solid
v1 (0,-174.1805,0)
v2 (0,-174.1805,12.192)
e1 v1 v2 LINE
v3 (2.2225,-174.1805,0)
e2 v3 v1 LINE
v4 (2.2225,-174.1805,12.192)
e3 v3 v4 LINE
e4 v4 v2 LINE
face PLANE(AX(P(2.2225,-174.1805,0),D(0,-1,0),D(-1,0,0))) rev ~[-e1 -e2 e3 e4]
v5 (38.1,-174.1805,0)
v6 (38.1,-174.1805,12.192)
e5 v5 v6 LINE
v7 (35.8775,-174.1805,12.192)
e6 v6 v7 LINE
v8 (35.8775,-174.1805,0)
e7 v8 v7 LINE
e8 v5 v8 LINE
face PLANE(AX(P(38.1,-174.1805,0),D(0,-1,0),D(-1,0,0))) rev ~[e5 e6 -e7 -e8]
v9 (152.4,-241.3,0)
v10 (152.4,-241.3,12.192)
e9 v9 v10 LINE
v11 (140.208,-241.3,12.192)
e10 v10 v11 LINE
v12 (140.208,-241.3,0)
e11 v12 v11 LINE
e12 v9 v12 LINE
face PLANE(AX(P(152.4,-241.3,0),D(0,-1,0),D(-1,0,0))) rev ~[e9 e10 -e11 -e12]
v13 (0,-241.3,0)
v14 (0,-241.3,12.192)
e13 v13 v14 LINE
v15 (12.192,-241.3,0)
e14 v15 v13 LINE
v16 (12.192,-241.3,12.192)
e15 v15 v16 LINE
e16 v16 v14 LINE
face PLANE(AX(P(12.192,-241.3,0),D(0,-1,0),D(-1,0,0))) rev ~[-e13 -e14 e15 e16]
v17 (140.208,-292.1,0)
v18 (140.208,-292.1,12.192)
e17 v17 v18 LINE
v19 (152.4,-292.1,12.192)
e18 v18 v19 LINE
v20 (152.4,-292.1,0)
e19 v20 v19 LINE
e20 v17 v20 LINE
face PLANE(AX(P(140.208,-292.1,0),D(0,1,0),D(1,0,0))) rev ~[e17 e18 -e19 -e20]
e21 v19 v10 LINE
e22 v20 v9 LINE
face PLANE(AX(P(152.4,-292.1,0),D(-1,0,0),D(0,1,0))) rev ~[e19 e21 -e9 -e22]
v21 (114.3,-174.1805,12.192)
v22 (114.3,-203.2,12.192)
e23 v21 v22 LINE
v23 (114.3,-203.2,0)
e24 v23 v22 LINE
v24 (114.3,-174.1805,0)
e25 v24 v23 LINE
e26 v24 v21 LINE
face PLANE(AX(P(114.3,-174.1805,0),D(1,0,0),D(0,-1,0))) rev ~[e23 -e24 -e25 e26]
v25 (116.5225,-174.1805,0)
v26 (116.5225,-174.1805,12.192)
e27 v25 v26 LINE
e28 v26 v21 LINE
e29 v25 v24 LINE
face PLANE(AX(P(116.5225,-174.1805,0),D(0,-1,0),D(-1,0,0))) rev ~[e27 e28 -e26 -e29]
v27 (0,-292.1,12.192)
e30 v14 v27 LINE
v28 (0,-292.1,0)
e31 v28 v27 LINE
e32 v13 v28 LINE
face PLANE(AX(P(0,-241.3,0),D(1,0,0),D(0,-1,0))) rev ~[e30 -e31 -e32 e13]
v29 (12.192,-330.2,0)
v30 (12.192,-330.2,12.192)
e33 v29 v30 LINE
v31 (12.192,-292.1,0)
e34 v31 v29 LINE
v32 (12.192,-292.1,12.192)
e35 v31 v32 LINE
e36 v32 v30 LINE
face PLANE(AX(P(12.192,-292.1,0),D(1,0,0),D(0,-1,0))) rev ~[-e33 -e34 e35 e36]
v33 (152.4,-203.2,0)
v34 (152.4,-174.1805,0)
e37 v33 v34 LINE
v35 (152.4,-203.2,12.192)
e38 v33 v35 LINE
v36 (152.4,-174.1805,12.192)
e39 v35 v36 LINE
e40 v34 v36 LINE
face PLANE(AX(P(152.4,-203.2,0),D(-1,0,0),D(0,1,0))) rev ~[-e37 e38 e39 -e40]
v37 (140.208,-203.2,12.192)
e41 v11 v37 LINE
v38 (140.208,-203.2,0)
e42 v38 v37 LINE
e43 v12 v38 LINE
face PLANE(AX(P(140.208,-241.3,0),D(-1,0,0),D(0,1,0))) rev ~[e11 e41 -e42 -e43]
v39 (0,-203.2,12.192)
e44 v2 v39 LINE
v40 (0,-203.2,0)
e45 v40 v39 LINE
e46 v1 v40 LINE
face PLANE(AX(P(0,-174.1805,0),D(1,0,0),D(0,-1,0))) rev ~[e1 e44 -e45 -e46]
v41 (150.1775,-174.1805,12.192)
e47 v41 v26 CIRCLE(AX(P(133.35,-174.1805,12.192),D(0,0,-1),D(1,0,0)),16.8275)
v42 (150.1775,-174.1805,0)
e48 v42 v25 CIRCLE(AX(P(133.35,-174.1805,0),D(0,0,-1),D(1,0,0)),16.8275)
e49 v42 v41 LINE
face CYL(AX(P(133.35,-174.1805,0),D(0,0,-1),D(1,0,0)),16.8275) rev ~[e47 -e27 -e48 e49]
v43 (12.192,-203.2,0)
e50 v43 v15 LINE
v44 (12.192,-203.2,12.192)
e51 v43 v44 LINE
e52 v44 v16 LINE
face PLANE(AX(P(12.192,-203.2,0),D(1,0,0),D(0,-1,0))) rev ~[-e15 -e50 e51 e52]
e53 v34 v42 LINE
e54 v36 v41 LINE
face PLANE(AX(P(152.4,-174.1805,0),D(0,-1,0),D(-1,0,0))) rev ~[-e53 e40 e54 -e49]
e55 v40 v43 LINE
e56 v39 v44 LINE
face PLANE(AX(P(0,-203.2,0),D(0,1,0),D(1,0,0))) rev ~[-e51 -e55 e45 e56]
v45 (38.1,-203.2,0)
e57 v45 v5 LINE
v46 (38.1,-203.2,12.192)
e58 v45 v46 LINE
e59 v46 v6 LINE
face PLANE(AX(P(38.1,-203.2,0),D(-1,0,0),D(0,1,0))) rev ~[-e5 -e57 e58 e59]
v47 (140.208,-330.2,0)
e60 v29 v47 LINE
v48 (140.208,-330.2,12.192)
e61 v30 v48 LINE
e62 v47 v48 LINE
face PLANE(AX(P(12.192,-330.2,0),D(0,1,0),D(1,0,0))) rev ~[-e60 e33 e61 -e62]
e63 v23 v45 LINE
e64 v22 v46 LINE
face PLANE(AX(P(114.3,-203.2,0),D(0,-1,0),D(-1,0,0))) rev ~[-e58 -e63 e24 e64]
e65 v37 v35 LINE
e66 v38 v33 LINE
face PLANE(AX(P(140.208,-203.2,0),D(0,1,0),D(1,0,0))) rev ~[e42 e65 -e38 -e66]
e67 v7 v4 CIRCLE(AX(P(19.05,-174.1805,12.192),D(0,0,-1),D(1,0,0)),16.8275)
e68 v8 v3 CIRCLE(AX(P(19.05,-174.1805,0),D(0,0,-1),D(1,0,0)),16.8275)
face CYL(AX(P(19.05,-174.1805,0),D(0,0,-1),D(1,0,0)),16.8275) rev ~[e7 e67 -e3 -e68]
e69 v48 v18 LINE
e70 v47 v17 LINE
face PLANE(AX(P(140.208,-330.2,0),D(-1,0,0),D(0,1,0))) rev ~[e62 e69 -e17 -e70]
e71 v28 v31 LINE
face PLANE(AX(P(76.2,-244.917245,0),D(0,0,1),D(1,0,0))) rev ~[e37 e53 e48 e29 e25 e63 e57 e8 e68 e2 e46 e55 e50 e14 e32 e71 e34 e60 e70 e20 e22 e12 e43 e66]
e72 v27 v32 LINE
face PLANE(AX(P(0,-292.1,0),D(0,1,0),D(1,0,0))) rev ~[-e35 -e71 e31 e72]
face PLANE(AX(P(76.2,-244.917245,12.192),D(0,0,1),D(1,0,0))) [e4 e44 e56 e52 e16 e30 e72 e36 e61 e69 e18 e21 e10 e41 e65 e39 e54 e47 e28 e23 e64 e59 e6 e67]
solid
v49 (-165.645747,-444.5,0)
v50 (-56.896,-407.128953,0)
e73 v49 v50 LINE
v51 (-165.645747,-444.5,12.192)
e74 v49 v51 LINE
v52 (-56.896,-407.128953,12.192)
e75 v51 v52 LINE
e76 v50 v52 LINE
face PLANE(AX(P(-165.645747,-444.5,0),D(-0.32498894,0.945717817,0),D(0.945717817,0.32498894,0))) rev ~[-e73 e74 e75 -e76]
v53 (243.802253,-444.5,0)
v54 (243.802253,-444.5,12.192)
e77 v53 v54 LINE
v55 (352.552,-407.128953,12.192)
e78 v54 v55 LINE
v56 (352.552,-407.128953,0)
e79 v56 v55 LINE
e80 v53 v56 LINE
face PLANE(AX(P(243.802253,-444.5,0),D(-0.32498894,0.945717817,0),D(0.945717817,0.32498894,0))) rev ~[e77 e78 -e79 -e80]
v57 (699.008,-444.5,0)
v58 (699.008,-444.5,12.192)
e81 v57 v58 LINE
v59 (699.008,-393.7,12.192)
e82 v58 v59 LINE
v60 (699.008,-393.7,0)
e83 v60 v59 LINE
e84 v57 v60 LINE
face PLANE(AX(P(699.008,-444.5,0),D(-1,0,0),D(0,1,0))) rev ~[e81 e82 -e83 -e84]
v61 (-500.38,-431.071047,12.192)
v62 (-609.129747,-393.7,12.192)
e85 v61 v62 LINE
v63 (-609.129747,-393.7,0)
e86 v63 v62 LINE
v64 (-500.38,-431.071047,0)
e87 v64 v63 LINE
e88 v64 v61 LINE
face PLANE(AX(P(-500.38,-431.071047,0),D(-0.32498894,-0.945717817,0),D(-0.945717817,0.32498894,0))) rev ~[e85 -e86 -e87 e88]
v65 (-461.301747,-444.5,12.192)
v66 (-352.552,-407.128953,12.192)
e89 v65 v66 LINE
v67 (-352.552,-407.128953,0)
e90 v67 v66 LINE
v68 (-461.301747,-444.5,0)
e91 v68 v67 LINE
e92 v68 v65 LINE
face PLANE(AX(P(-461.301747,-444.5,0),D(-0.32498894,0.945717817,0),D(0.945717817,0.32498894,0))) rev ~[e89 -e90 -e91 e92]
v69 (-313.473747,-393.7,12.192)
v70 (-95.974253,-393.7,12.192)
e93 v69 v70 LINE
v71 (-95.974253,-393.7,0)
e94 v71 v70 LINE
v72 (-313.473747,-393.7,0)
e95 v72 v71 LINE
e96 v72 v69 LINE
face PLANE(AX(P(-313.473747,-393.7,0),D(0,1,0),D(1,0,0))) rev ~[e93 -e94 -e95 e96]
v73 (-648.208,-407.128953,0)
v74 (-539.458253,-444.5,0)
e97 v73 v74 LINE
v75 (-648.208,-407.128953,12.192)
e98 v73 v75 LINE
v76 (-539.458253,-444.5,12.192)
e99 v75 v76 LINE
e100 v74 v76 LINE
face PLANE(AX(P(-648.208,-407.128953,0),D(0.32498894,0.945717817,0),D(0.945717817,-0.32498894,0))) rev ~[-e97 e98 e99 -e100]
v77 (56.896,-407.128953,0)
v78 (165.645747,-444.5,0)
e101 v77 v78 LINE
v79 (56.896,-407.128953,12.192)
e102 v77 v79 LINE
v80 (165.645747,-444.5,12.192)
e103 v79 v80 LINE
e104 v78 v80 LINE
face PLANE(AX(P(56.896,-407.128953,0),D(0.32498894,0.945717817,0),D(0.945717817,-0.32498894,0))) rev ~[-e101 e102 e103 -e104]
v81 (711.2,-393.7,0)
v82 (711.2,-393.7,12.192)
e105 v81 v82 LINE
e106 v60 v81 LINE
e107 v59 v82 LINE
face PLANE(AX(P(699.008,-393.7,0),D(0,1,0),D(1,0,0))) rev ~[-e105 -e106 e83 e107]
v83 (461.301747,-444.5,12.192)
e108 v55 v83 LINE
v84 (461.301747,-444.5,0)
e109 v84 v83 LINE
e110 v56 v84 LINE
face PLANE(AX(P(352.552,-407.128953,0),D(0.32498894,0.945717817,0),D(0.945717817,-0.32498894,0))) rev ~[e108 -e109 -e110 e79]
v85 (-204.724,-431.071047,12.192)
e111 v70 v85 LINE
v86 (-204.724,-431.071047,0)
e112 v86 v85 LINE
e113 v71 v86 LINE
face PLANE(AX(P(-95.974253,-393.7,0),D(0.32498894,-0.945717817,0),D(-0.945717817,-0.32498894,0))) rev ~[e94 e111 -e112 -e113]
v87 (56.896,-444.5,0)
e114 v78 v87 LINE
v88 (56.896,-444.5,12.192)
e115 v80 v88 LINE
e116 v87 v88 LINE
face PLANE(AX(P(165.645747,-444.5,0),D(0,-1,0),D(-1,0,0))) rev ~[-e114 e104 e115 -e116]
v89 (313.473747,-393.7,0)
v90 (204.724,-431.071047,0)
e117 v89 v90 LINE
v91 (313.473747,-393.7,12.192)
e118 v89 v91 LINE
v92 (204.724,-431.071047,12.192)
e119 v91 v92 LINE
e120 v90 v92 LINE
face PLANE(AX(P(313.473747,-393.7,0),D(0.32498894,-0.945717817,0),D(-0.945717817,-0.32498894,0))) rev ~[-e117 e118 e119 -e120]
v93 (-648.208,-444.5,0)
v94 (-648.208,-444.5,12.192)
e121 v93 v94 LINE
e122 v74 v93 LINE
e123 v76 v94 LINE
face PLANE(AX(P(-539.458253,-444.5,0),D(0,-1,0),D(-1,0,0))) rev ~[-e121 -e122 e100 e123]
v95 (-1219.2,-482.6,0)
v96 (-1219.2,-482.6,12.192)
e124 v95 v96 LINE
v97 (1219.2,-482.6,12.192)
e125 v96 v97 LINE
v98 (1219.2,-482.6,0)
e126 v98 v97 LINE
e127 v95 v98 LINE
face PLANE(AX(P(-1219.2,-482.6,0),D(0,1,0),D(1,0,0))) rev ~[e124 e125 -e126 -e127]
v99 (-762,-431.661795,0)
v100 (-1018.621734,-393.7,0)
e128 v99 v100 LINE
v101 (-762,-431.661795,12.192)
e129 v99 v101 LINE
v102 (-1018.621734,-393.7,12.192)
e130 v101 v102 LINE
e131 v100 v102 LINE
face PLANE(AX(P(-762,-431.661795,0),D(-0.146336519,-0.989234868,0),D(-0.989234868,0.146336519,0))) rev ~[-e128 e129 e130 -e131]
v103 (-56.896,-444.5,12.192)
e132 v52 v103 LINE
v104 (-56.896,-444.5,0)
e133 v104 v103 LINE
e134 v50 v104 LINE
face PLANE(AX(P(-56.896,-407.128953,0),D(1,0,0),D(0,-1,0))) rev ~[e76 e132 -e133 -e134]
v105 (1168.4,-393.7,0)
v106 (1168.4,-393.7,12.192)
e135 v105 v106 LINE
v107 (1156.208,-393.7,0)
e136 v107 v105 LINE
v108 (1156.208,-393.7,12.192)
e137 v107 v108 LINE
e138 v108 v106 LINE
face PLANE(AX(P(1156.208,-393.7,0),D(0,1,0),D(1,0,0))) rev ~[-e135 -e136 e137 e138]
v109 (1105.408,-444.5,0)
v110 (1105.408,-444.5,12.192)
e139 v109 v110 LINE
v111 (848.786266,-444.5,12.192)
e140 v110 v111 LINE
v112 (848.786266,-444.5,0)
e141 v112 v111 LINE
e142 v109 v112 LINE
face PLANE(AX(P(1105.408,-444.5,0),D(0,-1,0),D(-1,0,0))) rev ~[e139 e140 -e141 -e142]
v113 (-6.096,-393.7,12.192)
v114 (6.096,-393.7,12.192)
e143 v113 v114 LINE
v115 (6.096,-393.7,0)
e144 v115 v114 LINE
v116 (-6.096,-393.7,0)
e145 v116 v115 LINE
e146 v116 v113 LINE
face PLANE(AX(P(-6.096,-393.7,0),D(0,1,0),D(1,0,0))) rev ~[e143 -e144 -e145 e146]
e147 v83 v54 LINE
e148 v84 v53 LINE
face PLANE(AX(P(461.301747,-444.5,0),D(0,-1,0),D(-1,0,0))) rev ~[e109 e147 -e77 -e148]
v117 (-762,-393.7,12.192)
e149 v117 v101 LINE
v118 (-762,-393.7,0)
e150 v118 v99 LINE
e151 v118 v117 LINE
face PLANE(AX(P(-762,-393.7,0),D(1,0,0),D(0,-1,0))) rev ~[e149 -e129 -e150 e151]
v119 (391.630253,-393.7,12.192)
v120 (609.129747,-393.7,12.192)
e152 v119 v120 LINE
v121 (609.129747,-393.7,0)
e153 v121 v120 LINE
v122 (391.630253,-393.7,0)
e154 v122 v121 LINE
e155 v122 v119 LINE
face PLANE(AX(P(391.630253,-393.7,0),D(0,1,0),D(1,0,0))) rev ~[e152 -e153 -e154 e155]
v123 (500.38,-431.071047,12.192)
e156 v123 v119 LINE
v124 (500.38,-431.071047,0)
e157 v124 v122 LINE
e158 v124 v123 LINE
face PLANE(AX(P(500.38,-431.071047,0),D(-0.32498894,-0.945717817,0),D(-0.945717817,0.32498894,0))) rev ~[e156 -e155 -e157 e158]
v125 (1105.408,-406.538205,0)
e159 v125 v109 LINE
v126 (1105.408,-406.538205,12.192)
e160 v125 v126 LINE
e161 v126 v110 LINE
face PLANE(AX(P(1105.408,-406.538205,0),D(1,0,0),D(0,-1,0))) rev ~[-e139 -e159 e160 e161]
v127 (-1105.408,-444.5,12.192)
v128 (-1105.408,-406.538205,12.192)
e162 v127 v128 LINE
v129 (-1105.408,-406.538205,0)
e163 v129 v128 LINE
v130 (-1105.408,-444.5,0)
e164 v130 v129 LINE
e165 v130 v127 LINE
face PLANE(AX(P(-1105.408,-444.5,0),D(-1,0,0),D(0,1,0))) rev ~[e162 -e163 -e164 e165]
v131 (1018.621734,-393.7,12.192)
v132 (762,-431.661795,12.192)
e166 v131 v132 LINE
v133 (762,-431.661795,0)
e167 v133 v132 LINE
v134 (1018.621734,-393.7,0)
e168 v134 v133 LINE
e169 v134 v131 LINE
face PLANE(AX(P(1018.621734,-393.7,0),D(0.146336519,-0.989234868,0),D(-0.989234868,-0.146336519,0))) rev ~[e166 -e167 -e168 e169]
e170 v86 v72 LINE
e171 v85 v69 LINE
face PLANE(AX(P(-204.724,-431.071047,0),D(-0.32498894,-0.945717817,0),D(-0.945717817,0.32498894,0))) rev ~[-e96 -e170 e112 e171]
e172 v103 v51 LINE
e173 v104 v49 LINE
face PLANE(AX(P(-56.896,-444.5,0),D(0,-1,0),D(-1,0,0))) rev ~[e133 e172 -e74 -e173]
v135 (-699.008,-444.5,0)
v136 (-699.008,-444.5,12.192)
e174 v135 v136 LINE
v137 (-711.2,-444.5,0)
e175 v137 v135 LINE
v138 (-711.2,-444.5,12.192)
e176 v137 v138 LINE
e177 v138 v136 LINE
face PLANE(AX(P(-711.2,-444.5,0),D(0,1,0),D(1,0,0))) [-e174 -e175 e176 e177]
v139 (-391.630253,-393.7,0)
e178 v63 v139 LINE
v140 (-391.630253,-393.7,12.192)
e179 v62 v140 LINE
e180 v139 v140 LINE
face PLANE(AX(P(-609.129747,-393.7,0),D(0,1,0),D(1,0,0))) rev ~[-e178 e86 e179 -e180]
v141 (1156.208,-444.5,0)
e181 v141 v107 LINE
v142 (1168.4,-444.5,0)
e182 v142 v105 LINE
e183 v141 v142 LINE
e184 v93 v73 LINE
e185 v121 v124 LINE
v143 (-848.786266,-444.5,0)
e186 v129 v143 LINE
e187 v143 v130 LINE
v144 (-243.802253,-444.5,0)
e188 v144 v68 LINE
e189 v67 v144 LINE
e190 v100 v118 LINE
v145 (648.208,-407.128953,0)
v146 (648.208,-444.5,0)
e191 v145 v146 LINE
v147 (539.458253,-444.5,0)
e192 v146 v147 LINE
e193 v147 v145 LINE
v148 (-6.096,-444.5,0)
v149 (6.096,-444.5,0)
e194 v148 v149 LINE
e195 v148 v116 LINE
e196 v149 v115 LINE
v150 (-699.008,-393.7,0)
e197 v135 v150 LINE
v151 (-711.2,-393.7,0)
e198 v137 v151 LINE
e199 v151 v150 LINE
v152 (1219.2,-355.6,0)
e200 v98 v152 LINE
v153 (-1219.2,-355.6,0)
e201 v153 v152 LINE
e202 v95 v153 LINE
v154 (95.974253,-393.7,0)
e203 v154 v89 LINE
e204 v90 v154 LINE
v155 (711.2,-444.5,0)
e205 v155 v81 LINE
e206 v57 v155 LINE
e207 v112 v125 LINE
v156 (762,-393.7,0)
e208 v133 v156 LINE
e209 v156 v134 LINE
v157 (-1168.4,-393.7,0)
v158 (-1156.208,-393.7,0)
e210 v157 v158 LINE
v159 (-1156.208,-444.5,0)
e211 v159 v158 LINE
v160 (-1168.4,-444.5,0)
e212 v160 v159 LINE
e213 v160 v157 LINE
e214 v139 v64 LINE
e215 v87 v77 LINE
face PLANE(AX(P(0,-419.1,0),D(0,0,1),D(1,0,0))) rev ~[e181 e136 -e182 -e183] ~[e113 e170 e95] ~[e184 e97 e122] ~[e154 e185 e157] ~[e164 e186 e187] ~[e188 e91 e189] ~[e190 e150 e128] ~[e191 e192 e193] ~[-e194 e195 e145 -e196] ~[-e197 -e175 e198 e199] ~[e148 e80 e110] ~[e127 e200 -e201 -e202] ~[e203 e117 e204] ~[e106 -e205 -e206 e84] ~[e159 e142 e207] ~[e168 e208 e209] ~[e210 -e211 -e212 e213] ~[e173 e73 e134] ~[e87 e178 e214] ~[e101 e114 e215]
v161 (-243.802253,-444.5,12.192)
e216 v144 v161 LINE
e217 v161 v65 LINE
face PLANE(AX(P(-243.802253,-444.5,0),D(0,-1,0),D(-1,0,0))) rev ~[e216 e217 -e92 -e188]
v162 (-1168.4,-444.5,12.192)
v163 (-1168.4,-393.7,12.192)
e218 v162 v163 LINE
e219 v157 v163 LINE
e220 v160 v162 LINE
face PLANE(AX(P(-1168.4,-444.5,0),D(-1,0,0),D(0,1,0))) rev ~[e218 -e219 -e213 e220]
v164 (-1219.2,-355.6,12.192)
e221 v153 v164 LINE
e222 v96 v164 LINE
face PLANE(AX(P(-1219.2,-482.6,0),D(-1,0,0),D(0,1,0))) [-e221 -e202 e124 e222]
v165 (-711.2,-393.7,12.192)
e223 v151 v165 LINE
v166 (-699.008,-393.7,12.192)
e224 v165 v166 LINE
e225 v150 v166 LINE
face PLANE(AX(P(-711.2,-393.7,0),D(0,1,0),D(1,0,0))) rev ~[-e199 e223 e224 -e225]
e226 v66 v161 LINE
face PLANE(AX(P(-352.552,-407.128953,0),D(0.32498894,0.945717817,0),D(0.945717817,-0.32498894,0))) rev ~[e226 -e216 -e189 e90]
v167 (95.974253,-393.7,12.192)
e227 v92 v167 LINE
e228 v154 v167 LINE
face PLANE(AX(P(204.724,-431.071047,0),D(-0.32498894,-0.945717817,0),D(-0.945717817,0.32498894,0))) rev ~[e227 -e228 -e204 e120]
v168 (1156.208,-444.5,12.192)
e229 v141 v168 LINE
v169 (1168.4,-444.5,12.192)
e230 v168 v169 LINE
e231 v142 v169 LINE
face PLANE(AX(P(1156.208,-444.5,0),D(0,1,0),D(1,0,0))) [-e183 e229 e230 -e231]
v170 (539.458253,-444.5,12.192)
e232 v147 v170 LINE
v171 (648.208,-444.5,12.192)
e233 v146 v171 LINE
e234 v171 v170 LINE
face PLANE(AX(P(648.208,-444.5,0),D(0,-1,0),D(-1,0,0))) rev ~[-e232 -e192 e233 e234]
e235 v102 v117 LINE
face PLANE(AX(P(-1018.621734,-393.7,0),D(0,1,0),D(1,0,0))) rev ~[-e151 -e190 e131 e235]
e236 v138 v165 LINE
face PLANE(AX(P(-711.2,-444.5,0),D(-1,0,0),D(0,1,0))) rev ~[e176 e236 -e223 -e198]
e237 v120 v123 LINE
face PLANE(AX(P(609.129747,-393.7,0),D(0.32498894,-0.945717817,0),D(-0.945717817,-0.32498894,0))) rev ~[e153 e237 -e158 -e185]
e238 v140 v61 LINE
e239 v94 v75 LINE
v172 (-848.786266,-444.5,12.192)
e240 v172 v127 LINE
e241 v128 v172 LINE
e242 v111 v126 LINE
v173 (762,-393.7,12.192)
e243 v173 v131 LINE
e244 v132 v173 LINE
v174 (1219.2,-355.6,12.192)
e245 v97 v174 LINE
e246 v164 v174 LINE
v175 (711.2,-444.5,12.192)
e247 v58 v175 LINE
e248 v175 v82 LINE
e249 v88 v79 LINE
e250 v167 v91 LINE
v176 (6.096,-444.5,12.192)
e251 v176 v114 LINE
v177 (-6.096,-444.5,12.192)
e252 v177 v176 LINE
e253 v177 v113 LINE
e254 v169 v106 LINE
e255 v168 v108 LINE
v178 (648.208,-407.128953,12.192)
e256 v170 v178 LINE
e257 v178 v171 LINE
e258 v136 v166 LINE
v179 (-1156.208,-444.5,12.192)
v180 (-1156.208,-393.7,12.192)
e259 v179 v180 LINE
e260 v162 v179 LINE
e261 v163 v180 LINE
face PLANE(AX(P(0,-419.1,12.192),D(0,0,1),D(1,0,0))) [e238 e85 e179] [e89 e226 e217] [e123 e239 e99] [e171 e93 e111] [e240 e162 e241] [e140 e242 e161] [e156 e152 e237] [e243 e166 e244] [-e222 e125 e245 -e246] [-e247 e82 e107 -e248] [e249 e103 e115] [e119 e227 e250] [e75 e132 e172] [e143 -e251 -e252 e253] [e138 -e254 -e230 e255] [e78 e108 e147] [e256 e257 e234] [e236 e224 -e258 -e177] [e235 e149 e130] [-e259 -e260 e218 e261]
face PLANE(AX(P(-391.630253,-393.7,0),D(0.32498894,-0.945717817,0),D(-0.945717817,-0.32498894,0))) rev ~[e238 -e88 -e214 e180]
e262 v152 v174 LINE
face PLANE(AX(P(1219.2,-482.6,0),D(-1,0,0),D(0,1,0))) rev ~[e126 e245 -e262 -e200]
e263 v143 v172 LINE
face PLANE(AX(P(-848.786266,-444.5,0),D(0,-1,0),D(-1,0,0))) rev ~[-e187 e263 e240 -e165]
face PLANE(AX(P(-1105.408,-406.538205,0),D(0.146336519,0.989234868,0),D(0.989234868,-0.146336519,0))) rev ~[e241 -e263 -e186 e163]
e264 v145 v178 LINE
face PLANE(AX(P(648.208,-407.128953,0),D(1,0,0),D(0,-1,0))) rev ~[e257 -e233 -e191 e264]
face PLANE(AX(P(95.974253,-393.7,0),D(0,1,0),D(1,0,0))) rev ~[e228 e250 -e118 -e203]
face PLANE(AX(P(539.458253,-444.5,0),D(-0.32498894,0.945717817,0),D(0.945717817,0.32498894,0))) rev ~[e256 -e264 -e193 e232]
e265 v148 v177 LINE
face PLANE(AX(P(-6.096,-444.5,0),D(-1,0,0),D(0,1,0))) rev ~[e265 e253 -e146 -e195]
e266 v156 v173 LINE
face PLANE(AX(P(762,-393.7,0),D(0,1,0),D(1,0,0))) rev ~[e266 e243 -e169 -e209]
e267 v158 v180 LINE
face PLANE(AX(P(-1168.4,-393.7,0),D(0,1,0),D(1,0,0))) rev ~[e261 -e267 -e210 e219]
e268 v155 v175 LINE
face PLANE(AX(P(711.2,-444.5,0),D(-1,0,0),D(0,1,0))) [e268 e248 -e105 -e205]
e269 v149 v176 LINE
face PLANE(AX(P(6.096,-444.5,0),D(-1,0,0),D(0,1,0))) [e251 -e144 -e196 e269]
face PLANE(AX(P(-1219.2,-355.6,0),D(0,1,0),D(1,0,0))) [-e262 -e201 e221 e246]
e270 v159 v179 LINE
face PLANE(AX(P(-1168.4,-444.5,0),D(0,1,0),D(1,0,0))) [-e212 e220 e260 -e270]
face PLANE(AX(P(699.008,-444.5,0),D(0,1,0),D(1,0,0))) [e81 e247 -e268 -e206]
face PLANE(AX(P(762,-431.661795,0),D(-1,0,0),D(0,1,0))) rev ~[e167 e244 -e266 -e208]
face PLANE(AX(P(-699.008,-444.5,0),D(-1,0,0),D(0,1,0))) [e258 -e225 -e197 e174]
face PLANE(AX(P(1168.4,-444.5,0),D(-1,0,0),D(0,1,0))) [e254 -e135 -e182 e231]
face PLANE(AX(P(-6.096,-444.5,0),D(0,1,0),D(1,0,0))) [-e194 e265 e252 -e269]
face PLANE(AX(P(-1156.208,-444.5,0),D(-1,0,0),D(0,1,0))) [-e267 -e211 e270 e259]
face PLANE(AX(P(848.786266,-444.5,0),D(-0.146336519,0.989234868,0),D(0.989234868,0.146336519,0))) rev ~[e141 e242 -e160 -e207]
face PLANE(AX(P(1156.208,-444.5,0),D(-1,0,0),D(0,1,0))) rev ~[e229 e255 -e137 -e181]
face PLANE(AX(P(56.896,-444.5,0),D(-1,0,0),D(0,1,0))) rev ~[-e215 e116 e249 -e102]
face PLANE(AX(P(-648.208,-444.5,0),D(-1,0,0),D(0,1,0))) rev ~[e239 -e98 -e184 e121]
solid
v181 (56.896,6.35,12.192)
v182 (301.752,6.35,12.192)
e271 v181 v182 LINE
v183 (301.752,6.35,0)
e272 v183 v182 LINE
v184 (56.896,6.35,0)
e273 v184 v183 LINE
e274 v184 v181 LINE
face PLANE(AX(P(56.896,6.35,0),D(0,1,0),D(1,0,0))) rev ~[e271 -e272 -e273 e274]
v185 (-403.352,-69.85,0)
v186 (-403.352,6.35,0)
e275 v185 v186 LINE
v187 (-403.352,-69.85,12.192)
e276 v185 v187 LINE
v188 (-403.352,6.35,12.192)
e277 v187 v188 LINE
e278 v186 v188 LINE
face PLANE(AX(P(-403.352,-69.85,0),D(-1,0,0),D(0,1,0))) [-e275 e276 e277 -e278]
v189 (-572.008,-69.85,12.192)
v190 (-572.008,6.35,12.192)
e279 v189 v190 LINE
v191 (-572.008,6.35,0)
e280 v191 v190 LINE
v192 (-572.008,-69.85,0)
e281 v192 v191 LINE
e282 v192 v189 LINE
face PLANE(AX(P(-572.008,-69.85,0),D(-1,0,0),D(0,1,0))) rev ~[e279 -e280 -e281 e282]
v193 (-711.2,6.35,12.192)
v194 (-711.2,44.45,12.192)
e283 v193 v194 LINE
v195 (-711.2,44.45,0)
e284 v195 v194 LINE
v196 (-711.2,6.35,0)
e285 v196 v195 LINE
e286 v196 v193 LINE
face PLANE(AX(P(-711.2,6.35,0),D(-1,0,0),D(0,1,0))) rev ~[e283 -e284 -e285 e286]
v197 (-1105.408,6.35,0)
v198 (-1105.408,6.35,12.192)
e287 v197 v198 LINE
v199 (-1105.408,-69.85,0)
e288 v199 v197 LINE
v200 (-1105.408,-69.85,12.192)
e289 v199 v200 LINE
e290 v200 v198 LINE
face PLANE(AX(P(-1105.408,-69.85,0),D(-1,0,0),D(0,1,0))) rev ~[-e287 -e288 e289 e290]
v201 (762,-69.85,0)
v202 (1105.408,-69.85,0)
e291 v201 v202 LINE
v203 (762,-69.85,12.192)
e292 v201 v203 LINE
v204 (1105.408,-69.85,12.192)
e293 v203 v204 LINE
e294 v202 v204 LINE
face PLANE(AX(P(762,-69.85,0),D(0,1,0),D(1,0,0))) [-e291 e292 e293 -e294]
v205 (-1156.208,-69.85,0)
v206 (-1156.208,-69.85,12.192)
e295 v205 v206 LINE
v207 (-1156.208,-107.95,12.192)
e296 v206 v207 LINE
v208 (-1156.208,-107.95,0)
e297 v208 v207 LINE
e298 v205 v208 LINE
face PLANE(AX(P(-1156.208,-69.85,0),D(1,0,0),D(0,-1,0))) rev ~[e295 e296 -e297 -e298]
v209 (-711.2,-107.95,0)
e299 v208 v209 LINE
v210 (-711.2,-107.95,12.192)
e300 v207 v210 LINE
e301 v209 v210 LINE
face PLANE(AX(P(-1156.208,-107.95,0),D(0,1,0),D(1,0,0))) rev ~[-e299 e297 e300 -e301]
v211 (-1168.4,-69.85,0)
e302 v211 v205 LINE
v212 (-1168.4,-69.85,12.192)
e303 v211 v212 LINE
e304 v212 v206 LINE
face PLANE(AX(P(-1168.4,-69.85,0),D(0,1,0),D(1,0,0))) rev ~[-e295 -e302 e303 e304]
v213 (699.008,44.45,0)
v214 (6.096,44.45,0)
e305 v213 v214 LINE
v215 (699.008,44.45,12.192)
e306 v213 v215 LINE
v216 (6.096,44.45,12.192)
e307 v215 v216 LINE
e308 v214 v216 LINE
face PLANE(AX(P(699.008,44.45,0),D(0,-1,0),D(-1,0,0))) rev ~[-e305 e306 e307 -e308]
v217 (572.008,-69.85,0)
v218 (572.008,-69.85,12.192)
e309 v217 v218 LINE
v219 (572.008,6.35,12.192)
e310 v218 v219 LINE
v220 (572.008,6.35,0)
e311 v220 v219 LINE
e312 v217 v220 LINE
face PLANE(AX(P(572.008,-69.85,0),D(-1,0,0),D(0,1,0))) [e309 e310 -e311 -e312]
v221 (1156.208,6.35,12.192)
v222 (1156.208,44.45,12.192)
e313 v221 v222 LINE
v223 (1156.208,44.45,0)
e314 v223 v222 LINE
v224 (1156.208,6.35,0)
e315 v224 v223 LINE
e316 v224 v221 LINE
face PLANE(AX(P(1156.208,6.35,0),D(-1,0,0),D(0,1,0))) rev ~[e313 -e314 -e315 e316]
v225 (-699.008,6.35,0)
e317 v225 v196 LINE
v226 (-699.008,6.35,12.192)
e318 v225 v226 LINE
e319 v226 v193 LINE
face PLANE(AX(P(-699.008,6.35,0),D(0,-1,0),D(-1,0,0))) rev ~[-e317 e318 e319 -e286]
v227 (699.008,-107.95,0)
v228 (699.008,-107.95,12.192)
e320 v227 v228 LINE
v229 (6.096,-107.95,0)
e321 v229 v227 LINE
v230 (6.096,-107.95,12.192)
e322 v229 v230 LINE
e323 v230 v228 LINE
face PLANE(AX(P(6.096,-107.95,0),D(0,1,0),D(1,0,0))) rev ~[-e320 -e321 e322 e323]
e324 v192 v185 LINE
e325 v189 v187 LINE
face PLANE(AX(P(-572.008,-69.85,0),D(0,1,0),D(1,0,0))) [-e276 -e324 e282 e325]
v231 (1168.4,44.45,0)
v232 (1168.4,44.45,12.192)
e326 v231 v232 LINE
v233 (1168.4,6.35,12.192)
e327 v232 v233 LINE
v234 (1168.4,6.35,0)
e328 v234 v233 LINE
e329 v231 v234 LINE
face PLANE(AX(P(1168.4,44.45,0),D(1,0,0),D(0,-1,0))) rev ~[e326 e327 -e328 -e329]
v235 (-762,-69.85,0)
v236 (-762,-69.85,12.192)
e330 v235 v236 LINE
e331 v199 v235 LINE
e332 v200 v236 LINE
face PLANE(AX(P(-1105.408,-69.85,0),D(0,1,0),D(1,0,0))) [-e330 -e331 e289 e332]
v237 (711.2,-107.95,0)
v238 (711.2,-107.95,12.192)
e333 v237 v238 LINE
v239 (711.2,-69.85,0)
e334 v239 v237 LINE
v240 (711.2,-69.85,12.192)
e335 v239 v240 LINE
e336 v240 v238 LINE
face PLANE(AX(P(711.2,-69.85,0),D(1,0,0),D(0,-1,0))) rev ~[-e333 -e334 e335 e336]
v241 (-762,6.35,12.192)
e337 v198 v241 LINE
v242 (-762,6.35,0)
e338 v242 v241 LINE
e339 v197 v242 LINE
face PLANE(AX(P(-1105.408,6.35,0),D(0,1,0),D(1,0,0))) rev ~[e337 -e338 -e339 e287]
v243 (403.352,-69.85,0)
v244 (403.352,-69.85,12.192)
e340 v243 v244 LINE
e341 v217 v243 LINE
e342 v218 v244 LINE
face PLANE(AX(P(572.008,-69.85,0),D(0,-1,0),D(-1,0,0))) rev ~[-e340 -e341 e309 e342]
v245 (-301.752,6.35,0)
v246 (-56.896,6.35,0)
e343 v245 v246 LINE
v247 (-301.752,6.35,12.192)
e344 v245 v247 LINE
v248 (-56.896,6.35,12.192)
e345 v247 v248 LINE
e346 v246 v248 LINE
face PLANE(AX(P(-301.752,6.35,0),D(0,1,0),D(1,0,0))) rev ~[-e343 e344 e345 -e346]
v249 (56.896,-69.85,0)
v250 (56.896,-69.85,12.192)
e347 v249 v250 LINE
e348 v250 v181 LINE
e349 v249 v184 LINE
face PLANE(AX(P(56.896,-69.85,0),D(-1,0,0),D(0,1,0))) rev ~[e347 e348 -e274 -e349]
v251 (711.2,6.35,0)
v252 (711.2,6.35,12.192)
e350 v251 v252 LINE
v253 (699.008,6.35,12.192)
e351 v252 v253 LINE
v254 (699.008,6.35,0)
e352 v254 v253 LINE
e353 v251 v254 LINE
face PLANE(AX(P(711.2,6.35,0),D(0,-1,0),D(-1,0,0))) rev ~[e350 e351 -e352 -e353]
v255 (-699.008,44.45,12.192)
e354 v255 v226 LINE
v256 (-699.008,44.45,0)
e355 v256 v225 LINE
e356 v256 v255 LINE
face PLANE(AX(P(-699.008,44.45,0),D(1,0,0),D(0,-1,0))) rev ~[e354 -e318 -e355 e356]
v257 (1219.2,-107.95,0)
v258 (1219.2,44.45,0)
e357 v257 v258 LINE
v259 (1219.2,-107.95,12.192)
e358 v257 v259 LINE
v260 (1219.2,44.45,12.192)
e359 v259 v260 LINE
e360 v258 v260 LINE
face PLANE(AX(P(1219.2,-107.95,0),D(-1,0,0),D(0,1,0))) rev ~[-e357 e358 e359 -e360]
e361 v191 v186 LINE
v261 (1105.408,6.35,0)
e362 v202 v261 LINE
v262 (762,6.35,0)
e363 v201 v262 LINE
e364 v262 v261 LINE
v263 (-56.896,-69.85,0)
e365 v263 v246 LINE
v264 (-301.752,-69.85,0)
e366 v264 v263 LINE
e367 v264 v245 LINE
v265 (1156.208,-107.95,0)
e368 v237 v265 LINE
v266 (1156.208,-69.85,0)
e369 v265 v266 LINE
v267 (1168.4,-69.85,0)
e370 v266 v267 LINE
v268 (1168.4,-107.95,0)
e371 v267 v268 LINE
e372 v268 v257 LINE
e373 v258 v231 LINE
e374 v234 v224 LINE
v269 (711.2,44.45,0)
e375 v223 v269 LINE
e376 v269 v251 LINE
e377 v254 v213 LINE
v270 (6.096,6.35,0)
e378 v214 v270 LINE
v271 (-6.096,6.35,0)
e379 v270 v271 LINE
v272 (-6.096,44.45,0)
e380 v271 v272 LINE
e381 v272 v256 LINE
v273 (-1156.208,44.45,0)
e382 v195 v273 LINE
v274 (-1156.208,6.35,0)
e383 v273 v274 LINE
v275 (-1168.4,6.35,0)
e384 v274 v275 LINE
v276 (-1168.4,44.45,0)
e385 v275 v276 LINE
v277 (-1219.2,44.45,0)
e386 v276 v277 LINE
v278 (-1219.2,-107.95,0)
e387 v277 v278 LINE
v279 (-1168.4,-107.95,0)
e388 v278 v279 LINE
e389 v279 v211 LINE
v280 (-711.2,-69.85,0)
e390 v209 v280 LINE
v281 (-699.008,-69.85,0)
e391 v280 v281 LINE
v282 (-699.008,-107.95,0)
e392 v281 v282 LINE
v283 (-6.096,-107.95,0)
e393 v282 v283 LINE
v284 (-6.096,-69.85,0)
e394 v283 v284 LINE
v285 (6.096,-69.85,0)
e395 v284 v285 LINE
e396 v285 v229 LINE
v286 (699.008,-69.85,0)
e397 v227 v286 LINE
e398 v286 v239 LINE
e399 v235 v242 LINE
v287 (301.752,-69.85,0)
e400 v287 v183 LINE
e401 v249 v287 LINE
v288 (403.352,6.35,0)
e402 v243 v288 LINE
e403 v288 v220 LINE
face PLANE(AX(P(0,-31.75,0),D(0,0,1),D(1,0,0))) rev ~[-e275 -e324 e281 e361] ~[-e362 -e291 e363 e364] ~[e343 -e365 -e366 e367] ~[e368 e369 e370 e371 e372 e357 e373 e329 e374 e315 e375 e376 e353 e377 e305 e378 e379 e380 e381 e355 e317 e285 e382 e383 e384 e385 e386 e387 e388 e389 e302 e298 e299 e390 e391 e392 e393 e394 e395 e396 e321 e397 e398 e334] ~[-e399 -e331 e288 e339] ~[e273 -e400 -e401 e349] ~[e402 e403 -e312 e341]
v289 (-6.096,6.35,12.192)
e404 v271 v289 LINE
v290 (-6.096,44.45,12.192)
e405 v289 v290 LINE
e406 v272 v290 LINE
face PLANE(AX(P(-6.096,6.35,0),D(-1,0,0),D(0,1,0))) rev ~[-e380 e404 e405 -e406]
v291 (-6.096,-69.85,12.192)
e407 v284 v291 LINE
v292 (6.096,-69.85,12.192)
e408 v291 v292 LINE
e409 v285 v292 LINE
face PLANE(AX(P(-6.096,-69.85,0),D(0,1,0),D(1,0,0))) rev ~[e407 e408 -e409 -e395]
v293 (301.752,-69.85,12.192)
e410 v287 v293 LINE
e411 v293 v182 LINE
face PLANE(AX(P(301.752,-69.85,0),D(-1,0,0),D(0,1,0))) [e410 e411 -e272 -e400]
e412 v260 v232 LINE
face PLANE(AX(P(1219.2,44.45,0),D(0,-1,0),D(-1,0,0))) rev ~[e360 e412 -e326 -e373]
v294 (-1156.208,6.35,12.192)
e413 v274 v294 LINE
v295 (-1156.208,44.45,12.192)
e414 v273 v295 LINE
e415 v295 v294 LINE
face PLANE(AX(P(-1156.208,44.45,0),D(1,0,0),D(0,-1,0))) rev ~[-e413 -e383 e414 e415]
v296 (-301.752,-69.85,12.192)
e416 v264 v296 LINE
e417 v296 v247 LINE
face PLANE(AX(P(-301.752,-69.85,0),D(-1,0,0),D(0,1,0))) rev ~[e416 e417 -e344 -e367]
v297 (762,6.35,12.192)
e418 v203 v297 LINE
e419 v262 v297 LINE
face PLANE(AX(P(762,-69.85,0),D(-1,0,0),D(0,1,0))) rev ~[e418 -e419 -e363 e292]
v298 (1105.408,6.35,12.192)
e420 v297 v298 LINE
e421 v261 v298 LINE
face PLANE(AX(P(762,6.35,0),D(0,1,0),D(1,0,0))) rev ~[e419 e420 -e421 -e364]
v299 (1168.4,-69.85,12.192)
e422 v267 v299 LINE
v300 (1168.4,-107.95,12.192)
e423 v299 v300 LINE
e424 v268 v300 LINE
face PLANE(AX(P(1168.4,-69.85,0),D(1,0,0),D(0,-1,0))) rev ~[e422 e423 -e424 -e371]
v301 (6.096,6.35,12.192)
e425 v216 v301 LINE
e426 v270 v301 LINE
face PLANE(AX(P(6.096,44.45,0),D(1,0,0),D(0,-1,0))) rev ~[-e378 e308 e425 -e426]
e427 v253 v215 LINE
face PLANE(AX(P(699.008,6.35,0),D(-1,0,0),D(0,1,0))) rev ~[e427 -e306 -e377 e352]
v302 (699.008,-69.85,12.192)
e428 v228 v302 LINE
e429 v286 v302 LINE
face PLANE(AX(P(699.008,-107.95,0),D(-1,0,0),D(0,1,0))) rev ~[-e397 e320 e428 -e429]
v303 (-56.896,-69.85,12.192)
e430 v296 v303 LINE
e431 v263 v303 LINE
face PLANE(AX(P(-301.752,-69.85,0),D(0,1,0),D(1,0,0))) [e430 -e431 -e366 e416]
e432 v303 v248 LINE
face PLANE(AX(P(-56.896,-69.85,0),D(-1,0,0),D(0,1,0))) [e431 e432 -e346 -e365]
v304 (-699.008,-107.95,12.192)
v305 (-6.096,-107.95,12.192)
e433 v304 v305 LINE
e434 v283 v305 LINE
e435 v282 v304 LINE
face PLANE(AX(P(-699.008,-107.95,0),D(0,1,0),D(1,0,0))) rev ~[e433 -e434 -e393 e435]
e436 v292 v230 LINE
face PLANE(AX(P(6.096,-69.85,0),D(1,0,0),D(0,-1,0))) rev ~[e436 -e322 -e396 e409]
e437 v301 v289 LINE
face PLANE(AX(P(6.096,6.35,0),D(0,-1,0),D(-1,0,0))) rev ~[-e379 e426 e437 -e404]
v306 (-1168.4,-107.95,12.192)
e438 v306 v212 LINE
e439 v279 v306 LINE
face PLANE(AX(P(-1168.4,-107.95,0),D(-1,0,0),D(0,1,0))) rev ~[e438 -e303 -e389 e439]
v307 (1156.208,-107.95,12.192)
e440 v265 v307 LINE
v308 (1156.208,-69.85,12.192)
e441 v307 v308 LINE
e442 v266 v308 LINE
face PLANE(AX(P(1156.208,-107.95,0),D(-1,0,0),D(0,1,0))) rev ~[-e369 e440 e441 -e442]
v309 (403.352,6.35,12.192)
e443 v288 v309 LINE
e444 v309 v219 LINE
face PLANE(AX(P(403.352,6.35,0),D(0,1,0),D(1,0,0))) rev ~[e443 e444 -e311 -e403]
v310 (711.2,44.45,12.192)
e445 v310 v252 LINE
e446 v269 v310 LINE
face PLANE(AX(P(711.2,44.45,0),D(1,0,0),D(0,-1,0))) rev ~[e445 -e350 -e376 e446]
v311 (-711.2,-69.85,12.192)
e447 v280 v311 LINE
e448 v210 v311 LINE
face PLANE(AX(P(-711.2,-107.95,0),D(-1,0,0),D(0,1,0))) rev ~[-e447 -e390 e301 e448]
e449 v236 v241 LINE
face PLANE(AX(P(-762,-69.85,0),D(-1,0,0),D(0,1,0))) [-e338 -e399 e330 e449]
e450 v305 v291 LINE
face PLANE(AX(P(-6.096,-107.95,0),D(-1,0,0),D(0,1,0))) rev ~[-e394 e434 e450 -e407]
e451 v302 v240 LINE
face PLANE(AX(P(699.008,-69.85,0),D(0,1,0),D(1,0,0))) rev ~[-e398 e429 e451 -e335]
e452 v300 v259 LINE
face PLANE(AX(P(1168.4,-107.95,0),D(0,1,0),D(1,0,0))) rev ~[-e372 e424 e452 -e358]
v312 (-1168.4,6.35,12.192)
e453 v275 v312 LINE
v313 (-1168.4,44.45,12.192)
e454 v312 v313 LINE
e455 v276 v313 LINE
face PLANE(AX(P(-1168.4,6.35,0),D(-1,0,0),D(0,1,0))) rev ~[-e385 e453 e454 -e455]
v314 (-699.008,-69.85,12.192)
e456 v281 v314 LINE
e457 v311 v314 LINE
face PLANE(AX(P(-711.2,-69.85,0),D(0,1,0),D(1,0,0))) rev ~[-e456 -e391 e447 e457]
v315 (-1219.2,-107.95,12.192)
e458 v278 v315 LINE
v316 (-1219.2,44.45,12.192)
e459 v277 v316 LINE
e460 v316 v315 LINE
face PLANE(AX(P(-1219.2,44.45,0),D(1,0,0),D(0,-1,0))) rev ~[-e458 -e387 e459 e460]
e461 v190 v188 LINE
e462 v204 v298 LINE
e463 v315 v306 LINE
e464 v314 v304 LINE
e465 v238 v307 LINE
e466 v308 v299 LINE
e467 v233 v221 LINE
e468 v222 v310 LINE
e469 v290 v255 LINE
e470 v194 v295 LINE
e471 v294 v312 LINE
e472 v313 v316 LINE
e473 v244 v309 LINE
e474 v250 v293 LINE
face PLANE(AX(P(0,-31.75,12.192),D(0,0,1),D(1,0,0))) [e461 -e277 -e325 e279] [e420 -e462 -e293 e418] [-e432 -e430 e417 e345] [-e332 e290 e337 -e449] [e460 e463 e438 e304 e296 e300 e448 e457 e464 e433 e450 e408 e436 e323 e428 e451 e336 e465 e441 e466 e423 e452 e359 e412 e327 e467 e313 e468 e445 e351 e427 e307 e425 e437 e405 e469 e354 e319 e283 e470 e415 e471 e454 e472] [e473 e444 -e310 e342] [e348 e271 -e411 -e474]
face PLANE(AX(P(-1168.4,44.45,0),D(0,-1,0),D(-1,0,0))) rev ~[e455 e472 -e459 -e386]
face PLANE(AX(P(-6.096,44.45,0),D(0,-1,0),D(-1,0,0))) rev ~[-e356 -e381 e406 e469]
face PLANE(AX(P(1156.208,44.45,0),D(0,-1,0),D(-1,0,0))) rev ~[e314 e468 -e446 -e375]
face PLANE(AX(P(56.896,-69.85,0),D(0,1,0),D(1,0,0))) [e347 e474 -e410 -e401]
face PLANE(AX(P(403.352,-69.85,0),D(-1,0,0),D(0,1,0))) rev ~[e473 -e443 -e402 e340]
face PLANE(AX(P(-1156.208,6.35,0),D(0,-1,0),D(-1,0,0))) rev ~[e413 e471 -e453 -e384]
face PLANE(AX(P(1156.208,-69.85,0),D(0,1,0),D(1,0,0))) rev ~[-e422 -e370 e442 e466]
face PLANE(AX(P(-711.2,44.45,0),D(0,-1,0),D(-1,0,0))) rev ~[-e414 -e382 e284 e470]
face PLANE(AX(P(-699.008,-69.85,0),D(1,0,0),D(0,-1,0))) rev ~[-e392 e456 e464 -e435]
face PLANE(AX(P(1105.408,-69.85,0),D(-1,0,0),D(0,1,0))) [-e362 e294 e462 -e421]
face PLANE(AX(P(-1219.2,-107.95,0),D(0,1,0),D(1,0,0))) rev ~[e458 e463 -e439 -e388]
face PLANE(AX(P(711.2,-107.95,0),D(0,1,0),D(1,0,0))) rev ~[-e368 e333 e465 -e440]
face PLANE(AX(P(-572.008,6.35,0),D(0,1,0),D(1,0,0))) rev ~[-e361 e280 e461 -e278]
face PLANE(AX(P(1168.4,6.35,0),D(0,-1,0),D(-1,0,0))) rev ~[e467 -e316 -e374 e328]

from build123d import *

# Parameters (mm, degrees)
F0_W     = 343.408
F0_H     = 76.2
F0_W_2   = 168.656
F0_W_3   = 244.856
F0_W_4   = 2438.4
F0_H_2   = 127
F0_W_5   = 12.192
F0_H_3   = 50.8
F0_W_6   = 76.2
F1_DEPTH = 12.192


with BuildPart() as f1:
    # F0 (on Top) → F1 (new body)
    with BuildSketch(Plane.XY):
        Polygon((-1168.4, 44.45), (-1219.2, 44.45), (-1219.2, -107.95), (-1168.4, -107.95), (-1168.4, -69.85), (-1156.208, -69.85), (-1156.208, -107.95), (-711.2, -107.95), (-711.2, -69.85), (-699.008, -69.85), (-699.008, -107.95), (-6.096, -107.95), (-6.096, -69.85), (6.096, -69.85), (6.096, -107.95), (699.008, -107.95), (699.008, -69.85), (711.2, -69.85), (711.2, -107.95), (1156.208, -107.95), (1156.208, -69.85), (1168.4, -69.85), (1168.4, -107.95), (1219.2, -107.95), (1219.2, 44.45), (1168.4, 44.45), (1168.4, 6.35), (1156.208, 6.35), (1156.208, 44.45), (711.2, 44.45), (711.2, 6.35), (699.008, 6.35), (699.008, 44.45), (6.096, 44.45), (6.096, 6.35), (-6.096, 6.35), (-6.096, 44.45), (-699.008, 44.45), (-699.008, 6.35), (-711.2, 6.35), (-711.2, 44.45), (-1156.208, 44.45), (-1156.208, 6.35), (-1168.4, 6.35), align=None)
        with Locations((-933.704, -31.75)):
            Rectangle(F0_W, F0_H, mode=Mode.SUBTRACT)
        with Locations((-487.68, -31.75)):
            Rectangle(F0_W_2, F0_H, mode=Mode.SUBTRACT)
        with Locations((-179.324, -31.75)):
            Rectangle(F0_W_3, F0_H, mode=Mode.SUBTRACT)
        with Locations((179.324, -31.75)):
            Rectangle(F0_W_3, F0_H, mode=Mode.SUBTRACT)
        Polygon((572.008, 6.35), (648.208, 6.35), (648.208, -69.85), (572.008, -69.85), (403.352, -69.85), (403.352, 6.35), align=None, mode=Mode.SUBTRACT)
        with Locations((933.704, -31.75)):
            Rectangle(F0_W, F0_H, mode=Mode.SUBTRACT)
        with BuildLine():
            Line((114.3, -203.2), (38.1, -203.2))
            Line((38.1, -203.2), (38.1, -174.1805))
            Line((38.1, -174.1805), (35.8775, -174.1805))
            ThreePointArc((35.8775, -174.1805), (19.05, -191.008), (2.2225, -174.1805))
            Line((2.2225, -174.1805), (0, -174.1805))
            Line((0, -174.1805), (0, -203.2))
            Line((0, -203.2), (12.192, -203.2))
            Line((12.192, -203.2), (12.192, -241.3))
            Line((12.192, -241.3), (0, -241.3))
            Line((0, -241.3), (0, -292.1))
            Line((0, -292.1), (12.192, -292.1))
            Line((12.192, -292.1), (12.192, -330.2))
            Line((12.192, -330.2), (140.208, -330.2))
            Line((140.208, -330.2), (140.208, -292.1))
            Line((140.208, -292.1), (152.4, -292.1))
            Line((152.4, -292.1), (152.4, -241.3))
            Line((152.4, -241.3), (140.208, -241.3))
            Line((140.208, -241.3), (140.208, -203.2))
            Line((140.208, -203.2), (152.4, -203.2))
            Line((152.4, -203.2), (152.4, -174.1805))
            Line((152.4, -174.1805), (150.1775, -174.1805))
            ThreePointArc((150.1775, -174.1805), (133.35, -191.008), (116.5225, -174.1805))
            Line((116.5225, -174.1805), (114.3, -174.1805))
            Line((114.3, -174.1805), (114.3, -203.2))
        make_face()
        with Locations((0, -419.1)):
            Rectangle(F0_W_4, F0_H_2)
        with Locations((-1162.304, -419.1)):
            Rectangle(F0_W_5, F0_H_3, mode=Mode.SUBTRACT)
        Polygon((-1105.408, -406.538205), (-848.786266, -444.5), (-1105.408, -444.5), align=None, mode=Mode.SUBTRACT)
        Polygon((-762, -431.661795), (-1018.621734, -393.7), (-762, -393.7), align=None, mode=Mode.SUBTRACT)
        with Locations((-705.104, -419.1)):
            Rectangle(F0_W_5, F0_H_3, mode=Mode.SUBTRACT)
        Polygon((-648.208, -444.5), (-648.208, -407.128953), (-539.458253, -444.5), align=None, mode=Mode.SUBTRACT)
        Polygon((-500.38, -431.071047), (-609.129747, -393.7), (-391.630253, -393.7), align=None, mode=Mode.SUBTRACT)
        Polygon((-243.802253, -444.5), (-352.552, -444.5), (-461.301747, -444.5), (-352.552, -407.128953), align=None, mode=Mode.SUBTRACT)
        Polygon((-313.473747, -393.7), (-95.974253, -393.7), (-204.724, -431.071047), align=None, mode=Mode.SUBTRACT)
        Polygon((-56.896, -407.128953), (-56.896, -444.5), (-165.645747, -444.5), align=None, mode=Mode.SUBTRACT)
        with Locations((0, -419.1)):
            Rectangle(F0_W_5, F0_H_3, mode=Mode.SUBTRACT)
        Polygon((165.645747, -444.5), (56.896, -444.5), (56.896, -407.128953), align=None, mode=Mode.SUBTRACT)
        Polygon((95.974253, -393.7), (313.473747, -393.7), (204.724, -431.071047), align=None, mode=Mode.SUBTRACT)
        Polygon((352.552, -407.128953), (461.301747, -444.5), (352.552, -444.5), (243.802253, -444.5), align=None, mode=Mode.SUBTRACT)
        Polygon((609.129747, -393.7), (500.38, -431.071047), (391.630253, -393.7), align=None, mode=Mode.SUBTRACT)
        Polygon((648.208, -407.128953), (648.208, -444.5), (539.458253, -444.5), align=None, mode=Mode.SUBTRACT)
        with Locations((705.104, -419.1)):
            Rectangle(F0_W_5, F0_H_3, mode=Mode.SUBTRACT)
        Polygon((762, -393.7), (1018.621734, -393.7), (762, -431.661795), align=None, mode=Mode.SUBTRACT)
        Polygon((848.786266, -444.5), (1105.408, -406.538205), (1105.408, -444.5), align=None, mode=Mode.SUBTRACT)
        with Locations((1162.304, -419.1)):
            Rectangle(F0_W_5, F0_H_3, mode=Mode.SUBTRACT)
        with Locations((610.108, -31.75)):
            Rectangle(F0_W_6, F0_H)
    extrude(amount=F1_DEPTH)


solid = f1.part
